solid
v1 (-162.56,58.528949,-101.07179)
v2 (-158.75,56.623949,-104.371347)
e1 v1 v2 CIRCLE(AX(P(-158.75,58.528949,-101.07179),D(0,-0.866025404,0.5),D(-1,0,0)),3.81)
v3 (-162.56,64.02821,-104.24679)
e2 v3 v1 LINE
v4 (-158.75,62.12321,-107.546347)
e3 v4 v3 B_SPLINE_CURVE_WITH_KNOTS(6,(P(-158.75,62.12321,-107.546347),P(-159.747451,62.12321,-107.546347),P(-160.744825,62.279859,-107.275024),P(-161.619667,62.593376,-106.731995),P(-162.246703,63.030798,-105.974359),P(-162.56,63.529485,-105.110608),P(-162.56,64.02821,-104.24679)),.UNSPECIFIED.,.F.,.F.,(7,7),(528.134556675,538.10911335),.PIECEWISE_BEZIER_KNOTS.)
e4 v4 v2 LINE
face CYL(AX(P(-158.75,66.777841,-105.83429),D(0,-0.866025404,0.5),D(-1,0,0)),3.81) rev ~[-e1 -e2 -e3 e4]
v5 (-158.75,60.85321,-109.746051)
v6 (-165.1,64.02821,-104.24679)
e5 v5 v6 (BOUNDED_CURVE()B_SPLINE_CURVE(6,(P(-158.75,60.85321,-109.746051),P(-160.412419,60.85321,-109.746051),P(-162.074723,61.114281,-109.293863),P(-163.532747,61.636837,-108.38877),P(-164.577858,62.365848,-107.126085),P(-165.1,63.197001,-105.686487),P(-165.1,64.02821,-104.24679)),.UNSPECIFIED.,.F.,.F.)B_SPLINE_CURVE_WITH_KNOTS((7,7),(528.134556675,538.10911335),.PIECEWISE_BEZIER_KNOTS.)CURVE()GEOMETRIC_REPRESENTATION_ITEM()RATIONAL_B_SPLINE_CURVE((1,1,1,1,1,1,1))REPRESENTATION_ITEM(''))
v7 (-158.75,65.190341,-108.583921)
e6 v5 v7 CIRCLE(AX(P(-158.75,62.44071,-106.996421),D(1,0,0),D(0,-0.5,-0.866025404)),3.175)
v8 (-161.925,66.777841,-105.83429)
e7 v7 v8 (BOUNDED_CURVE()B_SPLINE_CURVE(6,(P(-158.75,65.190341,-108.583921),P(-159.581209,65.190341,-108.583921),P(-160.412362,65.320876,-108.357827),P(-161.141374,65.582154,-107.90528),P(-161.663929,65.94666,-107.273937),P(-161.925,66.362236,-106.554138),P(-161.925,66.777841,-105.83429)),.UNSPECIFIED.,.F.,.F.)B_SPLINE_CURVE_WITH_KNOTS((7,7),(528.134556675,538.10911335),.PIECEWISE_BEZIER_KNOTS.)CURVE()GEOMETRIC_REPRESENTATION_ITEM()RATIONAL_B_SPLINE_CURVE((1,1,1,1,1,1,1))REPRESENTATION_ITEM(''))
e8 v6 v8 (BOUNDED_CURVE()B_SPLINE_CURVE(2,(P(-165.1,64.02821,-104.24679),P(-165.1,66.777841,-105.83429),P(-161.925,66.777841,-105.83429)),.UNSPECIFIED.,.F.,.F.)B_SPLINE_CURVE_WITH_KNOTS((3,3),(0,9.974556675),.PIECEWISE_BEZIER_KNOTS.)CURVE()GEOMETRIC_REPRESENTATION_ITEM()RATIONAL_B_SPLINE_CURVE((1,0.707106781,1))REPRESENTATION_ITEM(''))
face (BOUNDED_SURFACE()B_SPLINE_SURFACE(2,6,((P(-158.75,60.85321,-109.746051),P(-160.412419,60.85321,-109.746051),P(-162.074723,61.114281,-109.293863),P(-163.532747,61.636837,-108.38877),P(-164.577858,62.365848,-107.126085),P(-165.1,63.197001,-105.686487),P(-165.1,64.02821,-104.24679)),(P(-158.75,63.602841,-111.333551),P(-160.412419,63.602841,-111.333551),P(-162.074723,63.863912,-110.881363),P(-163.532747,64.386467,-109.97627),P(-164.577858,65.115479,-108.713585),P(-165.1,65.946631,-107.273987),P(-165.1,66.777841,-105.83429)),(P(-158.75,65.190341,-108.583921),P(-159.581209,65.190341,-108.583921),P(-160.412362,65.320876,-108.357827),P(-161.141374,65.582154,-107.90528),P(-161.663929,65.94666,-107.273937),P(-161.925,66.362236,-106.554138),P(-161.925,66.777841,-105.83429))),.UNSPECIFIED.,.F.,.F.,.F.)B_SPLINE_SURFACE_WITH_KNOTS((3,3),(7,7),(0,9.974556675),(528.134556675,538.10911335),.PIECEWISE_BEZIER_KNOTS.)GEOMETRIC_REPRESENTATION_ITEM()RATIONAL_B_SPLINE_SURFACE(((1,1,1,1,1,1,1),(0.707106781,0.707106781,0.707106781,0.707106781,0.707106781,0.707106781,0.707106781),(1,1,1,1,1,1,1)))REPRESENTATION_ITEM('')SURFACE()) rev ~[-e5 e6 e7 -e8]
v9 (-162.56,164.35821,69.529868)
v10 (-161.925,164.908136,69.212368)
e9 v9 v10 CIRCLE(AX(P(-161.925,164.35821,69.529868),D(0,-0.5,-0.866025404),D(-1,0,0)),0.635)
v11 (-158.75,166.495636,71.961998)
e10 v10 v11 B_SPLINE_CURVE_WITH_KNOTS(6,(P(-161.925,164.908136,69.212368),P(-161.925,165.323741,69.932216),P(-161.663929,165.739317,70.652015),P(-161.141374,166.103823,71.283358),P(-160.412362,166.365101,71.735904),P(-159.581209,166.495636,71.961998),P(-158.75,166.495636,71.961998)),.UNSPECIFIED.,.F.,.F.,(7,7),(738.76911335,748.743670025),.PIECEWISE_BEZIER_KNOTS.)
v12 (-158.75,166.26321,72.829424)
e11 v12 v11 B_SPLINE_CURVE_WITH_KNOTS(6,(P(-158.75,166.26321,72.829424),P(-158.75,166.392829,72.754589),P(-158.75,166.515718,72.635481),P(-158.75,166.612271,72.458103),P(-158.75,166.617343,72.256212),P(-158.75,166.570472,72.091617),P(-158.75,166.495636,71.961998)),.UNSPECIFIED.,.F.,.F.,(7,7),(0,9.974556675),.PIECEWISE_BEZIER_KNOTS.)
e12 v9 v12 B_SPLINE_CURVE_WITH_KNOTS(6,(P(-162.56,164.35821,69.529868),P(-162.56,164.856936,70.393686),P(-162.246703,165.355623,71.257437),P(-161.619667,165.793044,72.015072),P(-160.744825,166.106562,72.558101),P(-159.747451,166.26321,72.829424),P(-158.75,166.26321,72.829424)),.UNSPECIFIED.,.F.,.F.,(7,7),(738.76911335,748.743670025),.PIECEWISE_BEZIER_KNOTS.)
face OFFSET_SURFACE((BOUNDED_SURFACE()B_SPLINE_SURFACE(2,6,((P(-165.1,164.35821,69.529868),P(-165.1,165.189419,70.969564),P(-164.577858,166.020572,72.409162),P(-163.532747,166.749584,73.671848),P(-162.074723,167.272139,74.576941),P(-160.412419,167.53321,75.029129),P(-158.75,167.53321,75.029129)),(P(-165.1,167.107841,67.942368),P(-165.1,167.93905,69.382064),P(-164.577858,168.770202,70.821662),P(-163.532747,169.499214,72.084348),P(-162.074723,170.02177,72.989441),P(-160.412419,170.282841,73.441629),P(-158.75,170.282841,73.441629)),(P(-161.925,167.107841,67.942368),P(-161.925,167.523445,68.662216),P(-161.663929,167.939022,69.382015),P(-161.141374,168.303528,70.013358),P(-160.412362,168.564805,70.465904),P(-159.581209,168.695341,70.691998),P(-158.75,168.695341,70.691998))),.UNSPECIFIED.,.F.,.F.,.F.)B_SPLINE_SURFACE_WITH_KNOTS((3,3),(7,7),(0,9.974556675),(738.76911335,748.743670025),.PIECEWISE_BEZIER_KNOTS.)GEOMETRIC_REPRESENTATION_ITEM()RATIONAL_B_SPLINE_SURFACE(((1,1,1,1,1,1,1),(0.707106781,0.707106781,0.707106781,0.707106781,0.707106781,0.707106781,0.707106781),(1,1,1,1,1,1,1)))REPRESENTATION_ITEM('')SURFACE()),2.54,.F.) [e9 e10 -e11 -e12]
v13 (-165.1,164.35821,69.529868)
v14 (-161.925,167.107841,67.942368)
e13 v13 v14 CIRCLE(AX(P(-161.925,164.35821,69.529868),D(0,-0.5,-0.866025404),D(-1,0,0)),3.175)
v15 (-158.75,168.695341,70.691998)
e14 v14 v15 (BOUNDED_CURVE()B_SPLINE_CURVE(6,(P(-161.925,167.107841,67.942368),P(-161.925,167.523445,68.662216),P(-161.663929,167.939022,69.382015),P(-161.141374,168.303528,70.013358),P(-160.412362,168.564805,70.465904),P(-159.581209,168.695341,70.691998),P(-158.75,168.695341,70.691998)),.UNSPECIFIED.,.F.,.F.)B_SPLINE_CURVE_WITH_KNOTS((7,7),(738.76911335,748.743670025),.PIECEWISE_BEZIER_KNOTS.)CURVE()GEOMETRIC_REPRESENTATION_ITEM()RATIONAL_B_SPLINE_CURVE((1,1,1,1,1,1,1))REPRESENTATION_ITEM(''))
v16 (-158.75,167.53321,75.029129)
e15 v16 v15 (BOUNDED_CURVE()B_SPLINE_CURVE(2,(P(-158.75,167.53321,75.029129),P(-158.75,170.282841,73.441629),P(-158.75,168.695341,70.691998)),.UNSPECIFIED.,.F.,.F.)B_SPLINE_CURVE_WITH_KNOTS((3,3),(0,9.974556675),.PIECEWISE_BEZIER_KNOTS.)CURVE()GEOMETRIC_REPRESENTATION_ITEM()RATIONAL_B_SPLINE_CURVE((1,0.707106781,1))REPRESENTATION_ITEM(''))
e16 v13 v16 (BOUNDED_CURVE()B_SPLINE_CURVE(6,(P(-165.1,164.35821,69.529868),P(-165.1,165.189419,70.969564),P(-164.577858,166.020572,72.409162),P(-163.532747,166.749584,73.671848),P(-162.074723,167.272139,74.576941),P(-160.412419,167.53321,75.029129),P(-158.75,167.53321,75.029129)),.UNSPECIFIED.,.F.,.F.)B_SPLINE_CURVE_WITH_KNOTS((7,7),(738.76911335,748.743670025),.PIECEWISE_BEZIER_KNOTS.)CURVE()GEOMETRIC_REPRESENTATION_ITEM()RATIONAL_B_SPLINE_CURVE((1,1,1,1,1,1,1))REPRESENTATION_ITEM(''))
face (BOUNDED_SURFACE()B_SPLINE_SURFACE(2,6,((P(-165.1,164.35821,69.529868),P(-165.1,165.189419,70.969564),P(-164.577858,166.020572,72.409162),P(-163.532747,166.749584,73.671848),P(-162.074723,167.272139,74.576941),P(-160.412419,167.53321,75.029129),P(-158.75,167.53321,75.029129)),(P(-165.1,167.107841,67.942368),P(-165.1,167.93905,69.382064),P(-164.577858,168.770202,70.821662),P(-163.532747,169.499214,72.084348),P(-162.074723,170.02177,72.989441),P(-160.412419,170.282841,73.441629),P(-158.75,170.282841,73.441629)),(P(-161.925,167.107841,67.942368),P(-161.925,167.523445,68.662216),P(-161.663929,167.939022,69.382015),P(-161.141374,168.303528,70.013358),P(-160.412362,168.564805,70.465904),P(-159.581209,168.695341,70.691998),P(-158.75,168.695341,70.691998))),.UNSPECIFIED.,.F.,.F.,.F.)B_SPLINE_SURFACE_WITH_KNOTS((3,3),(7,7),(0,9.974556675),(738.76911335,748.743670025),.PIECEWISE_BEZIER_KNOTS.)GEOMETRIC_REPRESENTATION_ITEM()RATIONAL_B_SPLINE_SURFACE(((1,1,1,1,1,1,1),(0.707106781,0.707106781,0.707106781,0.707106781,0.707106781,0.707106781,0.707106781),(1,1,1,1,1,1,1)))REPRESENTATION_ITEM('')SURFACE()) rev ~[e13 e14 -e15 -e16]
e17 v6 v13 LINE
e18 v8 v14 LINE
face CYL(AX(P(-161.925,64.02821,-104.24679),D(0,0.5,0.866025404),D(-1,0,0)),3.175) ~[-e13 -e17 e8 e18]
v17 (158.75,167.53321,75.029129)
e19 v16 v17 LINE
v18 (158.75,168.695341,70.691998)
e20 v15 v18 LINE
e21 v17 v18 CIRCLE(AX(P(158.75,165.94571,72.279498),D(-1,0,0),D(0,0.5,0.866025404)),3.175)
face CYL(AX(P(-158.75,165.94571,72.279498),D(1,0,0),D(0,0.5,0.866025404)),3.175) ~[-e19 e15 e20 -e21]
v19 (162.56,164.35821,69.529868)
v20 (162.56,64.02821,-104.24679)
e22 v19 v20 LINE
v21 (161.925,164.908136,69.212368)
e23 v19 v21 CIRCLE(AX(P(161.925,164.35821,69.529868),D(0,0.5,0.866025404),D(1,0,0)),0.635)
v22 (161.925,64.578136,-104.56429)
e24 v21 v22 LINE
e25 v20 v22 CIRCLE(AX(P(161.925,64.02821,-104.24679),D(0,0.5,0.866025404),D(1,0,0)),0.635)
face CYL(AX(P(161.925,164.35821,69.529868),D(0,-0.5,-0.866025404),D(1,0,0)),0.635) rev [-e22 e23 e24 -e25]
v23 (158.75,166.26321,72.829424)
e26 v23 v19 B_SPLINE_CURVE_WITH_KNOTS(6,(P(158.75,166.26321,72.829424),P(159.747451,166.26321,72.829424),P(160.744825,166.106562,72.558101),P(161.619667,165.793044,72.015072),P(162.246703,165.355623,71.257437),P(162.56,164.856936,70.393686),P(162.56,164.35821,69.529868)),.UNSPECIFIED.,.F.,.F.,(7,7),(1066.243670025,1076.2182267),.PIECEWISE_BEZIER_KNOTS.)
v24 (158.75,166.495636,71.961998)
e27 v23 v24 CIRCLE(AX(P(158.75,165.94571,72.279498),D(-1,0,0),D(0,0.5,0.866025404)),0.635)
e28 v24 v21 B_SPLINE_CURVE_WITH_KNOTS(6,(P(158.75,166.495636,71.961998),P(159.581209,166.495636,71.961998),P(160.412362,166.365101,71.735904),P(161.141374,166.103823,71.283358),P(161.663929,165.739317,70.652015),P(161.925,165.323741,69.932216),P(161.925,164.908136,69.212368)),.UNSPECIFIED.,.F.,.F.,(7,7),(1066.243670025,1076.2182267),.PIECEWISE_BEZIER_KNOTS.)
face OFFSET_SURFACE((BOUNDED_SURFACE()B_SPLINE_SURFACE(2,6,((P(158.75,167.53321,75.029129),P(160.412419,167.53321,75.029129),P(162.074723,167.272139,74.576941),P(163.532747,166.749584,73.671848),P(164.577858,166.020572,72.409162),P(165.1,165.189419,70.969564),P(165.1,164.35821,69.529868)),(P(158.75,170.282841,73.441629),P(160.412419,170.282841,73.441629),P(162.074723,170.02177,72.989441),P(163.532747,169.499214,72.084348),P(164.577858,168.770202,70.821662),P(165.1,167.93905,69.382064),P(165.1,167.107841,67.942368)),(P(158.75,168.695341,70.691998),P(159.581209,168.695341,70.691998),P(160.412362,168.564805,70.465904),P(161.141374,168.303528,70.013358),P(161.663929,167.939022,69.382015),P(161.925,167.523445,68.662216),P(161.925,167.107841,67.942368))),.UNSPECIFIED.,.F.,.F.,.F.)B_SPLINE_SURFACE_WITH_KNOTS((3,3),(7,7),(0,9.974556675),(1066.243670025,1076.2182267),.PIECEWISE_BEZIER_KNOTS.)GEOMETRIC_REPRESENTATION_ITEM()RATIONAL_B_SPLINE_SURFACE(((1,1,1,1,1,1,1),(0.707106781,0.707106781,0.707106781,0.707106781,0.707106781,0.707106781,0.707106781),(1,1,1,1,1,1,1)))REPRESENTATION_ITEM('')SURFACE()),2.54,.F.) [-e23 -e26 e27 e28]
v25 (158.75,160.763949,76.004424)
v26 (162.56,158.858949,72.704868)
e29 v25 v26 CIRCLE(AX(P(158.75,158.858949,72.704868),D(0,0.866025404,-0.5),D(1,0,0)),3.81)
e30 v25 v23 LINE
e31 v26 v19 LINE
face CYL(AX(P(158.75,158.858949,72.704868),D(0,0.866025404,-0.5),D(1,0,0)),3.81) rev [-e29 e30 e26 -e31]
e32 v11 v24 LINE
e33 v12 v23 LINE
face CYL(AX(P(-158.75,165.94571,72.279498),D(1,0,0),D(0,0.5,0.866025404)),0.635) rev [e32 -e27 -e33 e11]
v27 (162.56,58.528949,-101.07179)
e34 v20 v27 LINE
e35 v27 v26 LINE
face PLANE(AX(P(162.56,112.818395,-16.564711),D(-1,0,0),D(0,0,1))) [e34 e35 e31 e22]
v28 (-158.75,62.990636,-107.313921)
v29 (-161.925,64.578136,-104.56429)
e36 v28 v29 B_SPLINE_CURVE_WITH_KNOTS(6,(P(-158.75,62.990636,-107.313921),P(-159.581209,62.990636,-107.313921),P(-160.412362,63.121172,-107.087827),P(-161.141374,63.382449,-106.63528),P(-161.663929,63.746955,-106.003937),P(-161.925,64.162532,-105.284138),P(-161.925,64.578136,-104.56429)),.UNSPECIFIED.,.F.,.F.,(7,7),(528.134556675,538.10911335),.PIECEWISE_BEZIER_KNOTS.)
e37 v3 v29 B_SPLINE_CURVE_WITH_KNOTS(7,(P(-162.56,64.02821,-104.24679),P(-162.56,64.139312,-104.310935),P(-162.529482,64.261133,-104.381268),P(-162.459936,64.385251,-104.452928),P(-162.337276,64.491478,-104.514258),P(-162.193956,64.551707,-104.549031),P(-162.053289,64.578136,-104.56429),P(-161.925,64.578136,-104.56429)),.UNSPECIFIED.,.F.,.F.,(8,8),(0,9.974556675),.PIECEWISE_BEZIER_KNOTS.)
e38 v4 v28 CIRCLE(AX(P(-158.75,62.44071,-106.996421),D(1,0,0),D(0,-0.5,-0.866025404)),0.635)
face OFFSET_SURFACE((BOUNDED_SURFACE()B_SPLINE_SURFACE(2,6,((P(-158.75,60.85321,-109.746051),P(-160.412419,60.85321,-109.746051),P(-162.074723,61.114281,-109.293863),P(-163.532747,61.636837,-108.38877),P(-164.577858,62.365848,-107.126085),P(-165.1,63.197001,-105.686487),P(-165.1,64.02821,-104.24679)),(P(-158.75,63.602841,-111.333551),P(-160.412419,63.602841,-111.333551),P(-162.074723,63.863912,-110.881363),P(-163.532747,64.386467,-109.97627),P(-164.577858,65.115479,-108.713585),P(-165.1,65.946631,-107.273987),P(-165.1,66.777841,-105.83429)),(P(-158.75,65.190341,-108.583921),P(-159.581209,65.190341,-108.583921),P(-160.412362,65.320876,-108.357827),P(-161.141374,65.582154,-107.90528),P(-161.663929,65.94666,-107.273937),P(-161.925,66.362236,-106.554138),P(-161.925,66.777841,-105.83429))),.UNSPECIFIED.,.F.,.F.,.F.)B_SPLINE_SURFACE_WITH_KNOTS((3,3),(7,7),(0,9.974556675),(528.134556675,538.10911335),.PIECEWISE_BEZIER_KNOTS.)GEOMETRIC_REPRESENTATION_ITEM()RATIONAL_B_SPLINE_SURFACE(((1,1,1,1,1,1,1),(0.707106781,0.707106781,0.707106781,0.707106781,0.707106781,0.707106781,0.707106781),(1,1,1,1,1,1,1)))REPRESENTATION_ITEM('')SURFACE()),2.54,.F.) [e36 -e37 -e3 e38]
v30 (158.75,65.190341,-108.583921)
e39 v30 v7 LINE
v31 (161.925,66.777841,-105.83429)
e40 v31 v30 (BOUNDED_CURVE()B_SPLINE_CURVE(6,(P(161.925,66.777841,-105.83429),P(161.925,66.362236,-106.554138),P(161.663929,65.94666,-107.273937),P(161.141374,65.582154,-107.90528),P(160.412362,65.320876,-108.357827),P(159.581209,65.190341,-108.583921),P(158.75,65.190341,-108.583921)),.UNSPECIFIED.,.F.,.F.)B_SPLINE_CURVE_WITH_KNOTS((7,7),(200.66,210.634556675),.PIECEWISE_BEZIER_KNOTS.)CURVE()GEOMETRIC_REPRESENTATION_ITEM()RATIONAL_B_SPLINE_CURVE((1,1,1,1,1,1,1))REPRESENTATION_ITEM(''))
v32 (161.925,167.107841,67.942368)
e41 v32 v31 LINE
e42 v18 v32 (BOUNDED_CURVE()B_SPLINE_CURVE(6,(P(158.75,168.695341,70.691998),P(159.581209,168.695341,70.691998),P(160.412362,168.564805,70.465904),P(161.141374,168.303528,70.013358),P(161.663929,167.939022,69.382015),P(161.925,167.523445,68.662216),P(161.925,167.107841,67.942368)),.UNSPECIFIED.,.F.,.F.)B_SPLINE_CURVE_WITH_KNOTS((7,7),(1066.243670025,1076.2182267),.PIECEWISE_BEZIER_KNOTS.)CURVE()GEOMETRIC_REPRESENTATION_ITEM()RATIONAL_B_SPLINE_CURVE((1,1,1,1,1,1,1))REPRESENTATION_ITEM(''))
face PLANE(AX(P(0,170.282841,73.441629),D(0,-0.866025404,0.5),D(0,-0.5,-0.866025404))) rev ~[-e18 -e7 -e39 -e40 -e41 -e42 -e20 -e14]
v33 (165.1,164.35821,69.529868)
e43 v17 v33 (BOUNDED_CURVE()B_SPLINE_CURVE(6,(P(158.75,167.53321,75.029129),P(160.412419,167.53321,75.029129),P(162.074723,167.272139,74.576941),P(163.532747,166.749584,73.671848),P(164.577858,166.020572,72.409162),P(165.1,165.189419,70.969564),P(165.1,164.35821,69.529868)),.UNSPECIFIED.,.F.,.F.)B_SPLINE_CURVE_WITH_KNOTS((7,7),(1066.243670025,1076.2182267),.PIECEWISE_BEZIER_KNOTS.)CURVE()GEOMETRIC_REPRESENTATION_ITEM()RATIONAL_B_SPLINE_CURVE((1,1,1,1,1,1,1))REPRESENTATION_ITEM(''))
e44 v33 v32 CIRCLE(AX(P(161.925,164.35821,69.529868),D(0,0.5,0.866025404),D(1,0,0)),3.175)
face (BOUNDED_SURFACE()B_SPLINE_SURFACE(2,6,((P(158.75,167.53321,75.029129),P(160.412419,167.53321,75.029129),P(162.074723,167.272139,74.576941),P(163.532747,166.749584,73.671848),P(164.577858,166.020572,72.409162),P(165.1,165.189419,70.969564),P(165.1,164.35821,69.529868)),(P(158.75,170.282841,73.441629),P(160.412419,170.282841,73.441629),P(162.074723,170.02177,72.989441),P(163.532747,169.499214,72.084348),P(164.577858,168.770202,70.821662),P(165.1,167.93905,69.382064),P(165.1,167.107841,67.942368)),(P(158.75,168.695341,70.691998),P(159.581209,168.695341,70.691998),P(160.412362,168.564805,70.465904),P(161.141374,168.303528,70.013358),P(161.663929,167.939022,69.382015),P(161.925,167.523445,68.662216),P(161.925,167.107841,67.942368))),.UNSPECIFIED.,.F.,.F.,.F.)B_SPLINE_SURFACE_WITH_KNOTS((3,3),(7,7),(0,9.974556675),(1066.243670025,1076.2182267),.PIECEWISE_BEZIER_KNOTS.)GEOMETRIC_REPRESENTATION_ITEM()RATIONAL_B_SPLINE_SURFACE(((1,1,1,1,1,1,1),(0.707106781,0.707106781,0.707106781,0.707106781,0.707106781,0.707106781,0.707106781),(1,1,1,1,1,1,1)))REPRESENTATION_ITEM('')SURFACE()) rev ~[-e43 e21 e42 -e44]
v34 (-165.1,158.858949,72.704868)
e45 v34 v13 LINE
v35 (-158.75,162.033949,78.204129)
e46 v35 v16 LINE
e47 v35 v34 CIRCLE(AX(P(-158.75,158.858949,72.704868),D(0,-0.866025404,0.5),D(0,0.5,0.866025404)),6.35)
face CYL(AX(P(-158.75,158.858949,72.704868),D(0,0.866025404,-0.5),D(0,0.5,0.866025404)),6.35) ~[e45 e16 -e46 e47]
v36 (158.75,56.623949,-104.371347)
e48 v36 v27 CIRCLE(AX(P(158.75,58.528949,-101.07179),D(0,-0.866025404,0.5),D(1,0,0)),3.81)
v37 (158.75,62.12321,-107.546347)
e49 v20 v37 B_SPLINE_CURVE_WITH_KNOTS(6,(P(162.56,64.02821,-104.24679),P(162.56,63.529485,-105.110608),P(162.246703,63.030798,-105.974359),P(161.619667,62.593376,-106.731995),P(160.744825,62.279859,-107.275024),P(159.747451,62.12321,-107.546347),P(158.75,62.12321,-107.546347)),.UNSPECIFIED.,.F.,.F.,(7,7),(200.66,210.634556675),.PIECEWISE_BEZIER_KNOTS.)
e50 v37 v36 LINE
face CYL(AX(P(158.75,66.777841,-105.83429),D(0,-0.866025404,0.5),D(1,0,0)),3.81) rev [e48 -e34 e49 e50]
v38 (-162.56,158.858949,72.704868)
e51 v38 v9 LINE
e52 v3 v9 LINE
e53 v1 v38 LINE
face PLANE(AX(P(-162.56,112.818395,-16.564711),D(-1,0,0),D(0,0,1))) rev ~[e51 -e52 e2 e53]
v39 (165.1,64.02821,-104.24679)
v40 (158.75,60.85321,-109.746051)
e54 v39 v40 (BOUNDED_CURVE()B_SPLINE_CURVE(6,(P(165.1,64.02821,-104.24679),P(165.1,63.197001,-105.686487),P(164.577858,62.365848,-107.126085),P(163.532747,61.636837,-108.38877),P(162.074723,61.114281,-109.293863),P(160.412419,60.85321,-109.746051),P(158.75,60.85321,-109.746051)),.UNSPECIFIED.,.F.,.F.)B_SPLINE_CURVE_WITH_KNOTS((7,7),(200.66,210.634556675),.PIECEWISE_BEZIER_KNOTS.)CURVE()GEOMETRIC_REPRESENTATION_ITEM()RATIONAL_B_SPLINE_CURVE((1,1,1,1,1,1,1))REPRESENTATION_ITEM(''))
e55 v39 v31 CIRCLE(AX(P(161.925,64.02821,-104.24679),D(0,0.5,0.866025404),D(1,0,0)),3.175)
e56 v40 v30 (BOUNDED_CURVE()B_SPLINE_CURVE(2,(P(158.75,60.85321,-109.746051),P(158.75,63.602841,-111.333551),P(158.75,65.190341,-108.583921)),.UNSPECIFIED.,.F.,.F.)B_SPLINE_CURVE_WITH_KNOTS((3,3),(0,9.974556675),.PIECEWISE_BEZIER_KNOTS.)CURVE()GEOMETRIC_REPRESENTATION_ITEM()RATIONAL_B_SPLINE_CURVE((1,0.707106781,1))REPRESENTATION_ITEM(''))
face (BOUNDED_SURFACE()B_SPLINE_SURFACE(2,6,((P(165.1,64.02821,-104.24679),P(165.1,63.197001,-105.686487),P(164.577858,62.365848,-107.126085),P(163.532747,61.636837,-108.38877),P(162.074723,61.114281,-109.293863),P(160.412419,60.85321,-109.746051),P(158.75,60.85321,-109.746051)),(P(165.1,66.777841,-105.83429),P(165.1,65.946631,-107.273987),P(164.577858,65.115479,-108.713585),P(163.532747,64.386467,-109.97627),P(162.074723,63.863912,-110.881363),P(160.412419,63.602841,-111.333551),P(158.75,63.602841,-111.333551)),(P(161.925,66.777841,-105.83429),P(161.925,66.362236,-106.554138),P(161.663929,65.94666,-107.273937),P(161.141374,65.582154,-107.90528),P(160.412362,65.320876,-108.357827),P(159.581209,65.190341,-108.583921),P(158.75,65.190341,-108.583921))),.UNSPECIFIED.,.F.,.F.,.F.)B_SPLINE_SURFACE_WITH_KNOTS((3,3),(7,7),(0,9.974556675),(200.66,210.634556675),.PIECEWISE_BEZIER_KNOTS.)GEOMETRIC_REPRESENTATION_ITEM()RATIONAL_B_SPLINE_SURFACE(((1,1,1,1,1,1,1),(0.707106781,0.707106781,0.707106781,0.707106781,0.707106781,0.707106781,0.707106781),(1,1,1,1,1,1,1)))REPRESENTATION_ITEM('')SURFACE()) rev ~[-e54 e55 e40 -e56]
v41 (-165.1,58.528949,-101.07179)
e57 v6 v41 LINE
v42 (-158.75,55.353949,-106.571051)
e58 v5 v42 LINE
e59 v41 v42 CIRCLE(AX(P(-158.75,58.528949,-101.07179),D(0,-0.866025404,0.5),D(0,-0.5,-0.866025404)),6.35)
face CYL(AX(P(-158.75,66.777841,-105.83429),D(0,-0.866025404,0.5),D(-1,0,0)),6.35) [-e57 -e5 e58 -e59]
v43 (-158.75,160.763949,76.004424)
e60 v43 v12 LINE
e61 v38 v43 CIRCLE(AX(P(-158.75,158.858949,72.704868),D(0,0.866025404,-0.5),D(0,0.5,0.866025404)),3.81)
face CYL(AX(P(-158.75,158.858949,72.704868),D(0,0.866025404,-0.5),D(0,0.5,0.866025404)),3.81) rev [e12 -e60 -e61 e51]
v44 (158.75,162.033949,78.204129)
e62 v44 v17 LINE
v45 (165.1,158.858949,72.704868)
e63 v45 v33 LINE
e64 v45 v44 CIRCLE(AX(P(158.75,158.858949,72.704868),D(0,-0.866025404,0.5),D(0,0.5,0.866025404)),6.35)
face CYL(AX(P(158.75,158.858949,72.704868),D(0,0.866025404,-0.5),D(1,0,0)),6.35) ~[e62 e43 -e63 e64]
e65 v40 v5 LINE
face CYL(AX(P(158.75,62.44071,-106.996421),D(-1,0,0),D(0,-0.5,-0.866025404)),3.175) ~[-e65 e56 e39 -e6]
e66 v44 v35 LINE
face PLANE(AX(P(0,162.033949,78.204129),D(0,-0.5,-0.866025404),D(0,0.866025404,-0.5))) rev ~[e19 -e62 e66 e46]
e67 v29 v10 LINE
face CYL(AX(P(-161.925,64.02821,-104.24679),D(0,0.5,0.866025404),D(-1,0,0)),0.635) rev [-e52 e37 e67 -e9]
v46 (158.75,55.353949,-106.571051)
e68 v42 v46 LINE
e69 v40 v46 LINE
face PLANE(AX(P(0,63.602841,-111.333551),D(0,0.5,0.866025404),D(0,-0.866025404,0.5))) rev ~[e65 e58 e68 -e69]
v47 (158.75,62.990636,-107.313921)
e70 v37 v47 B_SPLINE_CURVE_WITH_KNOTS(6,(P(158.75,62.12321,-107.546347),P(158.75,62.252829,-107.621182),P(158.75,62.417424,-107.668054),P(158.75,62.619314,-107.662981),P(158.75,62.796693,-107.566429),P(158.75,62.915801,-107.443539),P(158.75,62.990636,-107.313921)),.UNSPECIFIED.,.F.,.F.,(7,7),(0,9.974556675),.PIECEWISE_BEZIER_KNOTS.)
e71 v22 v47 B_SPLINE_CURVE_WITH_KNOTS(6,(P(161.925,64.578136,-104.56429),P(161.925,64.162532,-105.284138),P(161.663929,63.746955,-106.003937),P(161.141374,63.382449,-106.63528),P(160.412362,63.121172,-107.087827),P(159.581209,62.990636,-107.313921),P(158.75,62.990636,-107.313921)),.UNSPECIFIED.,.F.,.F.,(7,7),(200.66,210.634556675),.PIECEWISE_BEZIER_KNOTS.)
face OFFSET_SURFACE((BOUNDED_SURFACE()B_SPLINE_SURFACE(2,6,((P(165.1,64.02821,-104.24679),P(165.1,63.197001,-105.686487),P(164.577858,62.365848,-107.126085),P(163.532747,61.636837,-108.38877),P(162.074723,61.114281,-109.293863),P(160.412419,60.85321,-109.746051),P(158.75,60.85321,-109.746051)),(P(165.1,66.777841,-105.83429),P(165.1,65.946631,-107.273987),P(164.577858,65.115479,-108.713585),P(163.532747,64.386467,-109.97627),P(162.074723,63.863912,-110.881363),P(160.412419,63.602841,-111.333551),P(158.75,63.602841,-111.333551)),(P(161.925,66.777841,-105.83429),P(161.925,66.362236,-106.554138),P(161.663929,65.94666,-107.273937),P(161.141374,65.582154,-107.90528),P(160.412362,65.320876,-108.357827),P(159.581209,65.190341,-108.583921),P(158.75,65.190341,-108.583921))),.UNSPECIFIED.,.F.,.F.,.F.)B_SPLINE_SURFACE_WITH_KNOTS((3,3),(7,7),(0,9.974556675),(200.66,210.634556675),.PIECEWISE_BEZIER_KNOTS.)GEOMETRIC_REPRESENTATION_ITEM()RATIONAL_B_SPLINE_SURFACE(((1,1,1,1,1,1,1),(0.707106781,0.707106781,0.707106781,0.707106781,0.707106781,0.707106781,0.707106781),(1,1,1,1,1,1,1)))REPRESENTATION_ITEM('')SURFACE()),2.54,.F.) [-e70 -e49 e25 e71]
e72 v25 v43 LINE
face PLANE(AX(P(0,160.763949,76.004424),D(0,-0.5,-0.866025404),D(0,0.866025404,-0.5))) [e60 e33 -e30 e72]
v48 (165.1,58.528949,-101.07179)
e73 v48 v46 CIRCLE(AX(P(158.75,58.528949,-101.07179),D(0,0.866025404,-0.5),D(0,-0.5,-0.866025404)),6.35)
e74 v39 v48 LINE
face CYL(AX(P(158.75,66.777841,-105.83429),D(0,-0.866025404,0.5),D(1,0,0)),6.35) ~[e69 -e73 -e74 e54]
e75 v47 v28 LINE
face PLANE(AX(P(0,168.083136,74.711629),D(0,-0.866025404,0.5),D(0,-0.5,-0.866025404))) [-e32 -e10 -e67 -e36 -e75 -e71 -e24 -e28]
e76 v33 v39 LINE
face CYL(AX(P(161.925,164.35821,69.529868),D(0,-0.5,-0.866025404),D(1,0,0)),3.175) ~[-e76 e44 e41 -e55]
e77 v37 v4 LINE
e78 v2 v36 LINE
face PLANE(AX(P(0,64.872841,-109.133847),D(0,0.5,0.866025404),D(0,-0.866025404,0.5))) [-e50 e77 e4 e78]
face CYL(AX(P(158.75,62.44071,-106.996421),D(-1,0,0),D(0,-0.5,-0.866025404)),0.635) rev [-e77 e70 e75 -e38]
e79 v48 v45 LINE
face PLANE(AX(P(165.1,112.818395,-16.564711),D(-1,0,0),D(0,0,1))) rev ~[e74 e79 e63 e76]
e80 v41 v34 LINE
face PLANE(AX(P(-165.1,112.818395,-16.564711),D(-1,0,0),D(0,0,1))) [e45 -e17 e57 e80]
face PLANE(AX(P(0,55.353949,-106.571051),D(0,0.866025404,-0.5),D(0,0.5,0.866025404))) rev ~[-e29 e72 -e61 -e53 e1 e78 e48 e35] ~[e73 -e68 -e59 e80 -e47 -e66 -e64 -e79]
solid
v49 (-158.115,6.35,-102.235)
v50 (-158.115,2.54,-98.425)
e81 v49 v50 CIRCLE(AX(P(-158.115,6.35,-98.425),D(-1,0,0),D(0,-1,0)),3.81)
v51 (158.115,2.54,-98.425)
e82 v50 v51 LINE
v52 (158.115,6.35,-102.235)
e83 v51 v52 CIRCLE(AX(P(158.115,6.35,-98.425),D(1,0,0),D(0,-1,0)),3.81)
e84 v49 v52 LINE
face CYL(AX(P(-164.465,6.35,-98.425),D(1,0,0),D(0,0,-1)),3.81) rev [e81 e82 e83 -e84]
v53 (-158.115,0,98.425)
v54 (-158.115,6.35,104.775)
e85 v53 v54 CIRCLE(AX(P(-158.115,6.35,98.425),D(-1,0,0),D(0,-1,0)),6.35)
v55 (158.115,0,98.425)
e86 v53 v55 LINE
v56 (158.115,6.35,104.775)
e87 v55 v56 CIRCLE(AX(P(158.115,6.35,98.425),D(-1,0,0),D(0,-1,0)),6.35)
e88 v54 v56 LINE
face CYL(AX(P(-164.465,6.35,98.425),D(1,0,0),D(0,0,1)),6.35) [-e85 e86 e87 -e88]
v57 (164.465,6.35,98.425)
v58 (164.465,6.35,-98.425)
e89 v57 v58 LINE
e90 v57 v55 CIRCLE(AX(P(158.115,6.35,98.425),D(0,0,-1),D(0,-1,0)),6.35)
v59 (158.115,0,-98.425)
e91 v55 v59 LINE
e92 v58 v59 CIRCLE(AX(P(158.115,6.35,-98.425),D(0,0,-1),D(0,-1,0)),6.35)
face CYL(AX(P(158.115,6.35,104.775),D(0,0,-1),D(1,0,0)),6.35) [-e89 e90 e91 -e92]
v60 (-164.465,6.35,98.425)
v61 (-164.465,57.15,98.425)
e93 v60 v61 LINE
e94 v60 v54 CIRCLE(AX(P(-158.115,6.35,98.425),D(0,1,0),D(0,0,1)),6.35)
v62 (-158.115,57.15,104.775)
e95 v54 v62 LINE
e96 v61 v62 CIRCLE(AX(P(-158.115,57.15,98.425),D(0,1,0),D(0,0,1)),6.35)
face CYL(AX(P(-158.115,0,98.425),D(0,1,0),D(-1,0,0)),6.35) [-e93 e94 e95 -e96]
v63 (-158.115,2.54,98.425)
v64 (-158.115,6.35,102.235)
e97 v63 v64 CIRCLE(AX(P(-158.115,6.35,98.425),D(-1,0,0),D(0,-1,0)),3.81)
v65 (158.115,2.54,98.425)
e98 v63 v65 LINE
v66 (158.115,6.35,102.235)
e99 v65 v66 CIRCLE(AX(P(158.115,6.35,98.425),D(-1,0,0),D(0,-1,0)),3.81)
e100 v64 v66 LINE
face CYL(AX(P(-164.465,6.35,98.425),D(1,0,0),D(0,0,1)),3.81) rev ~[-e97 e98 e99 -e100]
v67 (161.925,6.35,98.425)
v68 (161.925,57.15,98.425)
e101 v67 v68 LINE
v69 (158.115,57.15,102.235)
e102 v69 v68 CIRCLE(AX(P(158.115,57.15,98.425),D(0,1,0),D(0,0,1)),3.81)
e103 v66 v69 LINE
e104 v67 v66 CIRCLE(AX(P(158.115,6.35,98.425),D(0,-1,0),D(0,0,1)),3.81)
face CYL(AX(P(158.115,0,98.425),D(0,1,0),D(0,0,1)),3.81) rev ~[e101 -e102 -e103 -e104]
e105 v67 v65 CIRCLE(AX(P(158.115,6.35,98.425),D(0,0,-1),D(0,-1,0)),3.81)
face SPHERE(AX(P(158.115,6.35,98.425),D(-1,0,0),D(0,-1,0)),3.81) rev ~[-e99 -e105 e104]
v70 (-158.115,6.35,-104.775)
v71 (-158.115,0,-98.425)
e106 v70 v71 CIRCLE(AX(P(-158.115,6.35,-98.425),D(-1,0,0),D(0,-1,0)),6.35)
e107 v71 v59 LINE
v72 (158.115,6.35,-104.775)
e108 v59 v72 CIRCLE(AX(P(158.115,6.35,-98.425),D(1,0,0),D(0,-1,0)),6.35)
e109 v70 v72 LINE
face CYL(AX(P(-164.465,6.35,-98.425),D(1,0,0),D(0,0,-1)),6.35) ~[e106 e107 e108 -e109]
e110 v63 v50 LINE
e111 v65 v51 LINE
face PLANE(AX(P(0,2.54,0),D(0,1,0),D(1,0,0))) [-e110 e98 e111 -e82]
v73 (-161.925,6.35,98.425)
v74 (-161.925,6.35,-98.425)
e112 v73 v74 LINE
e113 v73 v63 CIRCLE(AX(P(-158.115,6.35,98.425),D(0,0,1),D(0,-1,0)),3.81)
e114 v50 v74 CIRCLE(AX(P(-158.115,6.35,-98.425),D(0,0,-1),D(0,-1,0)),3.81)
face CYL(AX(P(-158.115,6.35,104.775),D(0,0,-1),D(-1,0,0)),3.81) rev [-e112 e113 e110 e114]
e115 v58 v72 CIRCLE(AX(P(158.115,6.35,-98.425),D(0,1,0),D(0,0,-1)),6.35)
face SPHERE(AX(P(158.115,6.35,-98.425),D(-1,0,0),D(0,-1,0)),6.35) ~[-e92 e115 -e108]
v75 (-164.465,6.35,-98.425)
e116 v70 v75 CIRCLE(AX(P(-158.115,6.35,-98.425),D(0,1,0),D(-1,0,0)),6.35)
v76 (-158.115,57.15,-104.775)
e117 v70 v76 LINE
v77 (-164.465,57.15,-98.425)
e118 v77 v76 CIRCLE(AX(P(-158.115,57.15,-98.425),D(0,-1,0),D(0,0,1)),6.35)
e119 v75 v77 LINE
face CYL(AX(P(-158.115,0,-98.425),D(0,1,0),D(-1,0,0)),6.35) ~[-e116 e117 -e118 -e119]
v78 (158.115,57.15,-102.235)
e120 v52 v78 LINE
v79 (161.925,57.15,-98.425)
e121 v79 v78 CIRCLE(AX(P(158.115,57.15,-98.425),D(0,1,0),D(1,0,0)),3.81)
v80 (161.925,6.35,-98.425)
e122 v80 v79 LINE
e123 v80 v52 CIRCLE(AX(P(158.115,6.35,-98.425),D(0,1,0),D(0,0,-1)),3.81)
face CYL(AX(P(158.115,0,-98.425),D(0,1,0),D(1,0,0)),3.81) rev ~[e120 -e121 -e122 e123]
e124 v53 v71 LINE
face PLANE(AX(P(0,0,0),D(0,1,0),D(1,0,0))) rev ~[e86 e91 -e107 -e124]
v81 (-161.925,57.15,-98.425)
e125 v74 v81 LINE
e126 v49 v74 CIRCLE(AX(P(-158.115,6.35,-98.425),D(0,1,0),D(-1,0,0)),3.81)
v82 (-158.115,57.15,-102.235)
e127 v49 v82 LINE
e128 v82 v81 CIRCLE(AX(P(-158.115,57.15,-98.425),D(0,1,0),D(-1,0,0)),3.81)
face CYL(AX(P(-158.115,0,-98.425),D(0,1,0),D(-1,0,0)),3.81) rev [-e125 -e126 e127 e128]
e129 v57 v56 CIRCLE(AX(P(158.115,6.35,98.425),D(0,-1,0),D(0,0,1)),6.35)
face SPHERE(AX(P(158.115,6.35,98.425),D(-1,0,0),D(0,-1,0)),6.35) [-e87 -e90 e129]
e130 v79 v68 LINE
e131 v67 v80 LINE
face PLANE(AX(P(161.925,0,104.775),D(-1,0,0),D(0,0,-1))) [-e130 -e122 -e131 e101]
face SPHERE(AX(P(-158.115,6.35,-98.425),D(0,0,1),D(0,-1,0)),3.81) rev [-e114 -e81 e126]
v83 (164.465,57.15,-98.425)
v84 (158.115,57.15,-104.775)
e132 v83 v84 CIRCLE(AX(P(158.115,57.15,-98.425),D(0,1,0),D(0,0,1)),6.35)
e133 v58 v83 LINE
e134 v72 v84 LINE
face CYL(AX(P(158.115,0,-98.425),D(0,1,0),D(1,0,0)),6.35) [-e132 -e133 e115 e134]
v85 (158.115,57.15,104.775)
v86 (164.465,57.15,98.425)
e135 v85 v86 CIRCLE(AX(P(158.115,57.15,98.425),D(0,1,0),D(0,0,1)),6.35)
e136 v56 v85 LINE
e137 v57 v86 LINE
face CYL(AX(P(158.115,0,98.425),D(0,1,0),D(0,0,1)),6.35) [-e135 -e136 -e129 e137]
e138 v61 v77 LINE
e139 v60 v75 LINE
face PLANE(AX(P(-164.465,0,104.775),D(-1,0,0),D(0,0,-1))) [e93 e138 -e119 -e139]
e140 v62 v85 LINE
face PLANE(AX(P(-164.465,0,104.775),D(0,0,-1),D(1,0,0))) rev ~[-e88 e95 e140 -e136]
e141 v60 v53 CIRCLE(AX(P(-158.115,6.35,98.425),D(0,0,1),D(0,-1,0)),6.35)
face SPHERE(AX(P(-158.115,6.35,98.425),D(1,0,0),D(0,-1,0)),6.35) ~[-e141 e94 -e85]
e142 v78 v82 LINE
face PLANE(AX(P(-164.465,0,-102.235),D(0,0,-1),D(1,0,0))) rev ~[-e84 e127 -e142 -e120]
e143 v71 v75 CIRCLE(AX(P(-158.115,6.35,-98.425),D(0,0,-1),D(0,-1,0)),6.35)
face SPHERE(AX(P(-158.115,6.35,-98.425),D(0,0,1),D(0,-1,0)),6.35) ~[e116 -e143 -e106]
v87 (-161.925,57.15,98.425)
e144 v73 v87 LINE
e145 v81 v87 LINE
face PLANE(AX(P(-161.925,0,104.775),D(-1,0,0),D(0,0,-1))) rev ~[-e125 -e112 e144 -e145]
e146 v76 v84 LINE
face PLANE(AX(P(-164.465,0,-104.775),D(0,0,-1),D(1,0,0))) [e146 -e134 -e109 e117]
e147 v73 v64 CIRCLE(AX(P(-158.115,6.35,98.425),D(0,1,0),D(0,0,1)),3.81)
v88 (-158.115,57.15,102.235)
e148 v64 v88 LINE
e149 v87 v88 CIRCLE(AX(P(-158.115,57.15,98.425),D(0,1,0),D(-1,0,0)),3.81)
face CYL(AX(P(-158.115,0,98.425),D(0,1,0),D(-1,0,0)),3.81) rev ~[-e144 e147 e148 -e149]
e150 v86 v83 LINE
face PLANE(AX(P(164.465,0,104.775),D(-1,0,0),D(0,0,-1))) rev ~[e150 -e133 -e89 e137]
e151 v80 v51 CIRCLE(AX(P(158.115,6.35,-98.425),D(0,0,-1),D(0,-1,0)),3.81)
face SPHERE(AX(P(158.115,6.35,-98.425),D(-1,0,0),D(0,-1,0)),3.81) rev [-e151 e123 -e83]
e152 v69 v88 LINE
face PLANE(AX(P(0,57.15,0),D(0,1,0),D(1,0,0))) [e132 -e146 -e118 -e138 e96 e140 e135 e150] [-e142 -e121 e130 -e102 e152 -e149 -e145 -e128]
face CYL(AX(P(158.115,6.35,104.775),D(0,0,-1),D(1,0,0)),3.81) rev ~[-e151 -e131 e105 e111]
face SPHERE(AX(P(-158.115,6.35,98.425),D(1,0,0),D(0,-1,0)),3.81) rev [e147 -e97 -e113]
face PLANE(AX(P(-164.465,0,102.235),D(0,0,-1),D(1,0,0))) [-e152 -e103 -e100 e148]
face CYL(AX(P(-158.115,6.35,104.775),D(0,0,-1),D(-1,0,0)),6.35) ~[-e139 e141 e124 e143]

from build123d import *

# Parameters (mm, degrees)
SKETCH1_W                       = 328.93
SKETCH1_H                       = 209.55
BOSS_EXTRUDE1_DEPTH             = 57.15
FILLET1_R                       = 6.35
SHELL1_T                        = -2.54
LID_OPENING_ANGLE_CONTROL_DEPTH = 165.1
FILLET2_R                       = 6.35
FILLET3_R                       = 3.175
SHELL2_T                        = -2.54


with BuildPart() as part:
    # Sketch1 → Boss-Extrude1 (new body)
    with BuildSketch(Plane(origin=(0, 0, 0), x_dir=(1, 0, 0), z_dir=(0, 1, 0))):
        Rectangle(SKETCH1_W, SKETCH1_H)
    extrude(amount=BOSS_EXTRUDE1_DEPTH)

    # Fillet1
    fillet1_edges = [part.edges().sort_by_distance(p)[0] for p in [
        (0, 0, 104.775),
        (-164.465, 0, 0),
        (0, 0, -104.775),
        (164.465, 0, 0),
        (164.465, 28.575, 104.775),
        (-164.465, 28.575, 104.775),
        (-164.465, 28.575, -104.775),
        (164.465, 28.575, -104.775),
    ]]
    fillet(fillet1_edges, radius=FILLET1_R)

    # Shell1
    shell1_openings = [part.faces().sort_by_distance(p)[0] for p in [
        (0, 57.15, 0),
    ]]
    offset(amount=SHELL1_T, openings=shell1_openings, kind=Kind.INTERSECTION)


with BuildPart() as body_2:
    # Sketch2 → LID OPENING ANGLE CONTROL (new, symmetric)
    with BuildSketch(Plane(origin=(0, 0, 0), x_dir=(0, 0, -1), z_dir=(1, 0, 0))):
        Polygon((106.571051224, 55.353948776), (-78.204128927, 162.033948776), (-73.441628927, 170.282840747), (111.333551224, 63.602840747), align=None)
    extrude(amount=LID_OPENING_ANGLE_CONTROL_DEPTH, both=True)

    # Fillet2
    fillet2_edges = [body_2.edges().sort_by_distance(p)[0] for p in [
        (165.1, 166.158394761, 75.822878927),
        (165.1, 59.478394761, -108.952301224),
        (-165.1, 166.158394761, 75.822878927),
        (-165.1, 59.478394761, -108.952301224),
    ]]
    fillet(fillet2_edges, radius=FILLET2_R)

    # Fillet3
    fillet3_edges = [body_2.edges().sort_by_distance(p)[0] for p in [
        (165.1, 116.942840747, -18.945961148),
        (-165.1, 116.942840747, -18.945961148),
        (0, 170.282840747, 73.441628927),
        (0, 63.602840747, -111.333551224),
        (-163.240128061, 169.352904777, 71.83093258),
        (163.240128061, 169.352904777, 71.83093258),
        (-163.240128061, 64.532776717, -109.722854877),
        (163.240128061, 64.532776717, -109.722854877),
    ]]
    fillet(fillet3_edges, radius=FILLET3_R)

    # Shell2
    shell2_openings = [body_2.faces().sort_by_distance(p)[0] for p in [
        (0, 108.693948776, -14.183461148),
    ]]
    offset(amount=SHELL2_T, openings=shell2_openings, kind=Kind.INTERSECTION)


solid = Compound([part.part, body_2.part])
